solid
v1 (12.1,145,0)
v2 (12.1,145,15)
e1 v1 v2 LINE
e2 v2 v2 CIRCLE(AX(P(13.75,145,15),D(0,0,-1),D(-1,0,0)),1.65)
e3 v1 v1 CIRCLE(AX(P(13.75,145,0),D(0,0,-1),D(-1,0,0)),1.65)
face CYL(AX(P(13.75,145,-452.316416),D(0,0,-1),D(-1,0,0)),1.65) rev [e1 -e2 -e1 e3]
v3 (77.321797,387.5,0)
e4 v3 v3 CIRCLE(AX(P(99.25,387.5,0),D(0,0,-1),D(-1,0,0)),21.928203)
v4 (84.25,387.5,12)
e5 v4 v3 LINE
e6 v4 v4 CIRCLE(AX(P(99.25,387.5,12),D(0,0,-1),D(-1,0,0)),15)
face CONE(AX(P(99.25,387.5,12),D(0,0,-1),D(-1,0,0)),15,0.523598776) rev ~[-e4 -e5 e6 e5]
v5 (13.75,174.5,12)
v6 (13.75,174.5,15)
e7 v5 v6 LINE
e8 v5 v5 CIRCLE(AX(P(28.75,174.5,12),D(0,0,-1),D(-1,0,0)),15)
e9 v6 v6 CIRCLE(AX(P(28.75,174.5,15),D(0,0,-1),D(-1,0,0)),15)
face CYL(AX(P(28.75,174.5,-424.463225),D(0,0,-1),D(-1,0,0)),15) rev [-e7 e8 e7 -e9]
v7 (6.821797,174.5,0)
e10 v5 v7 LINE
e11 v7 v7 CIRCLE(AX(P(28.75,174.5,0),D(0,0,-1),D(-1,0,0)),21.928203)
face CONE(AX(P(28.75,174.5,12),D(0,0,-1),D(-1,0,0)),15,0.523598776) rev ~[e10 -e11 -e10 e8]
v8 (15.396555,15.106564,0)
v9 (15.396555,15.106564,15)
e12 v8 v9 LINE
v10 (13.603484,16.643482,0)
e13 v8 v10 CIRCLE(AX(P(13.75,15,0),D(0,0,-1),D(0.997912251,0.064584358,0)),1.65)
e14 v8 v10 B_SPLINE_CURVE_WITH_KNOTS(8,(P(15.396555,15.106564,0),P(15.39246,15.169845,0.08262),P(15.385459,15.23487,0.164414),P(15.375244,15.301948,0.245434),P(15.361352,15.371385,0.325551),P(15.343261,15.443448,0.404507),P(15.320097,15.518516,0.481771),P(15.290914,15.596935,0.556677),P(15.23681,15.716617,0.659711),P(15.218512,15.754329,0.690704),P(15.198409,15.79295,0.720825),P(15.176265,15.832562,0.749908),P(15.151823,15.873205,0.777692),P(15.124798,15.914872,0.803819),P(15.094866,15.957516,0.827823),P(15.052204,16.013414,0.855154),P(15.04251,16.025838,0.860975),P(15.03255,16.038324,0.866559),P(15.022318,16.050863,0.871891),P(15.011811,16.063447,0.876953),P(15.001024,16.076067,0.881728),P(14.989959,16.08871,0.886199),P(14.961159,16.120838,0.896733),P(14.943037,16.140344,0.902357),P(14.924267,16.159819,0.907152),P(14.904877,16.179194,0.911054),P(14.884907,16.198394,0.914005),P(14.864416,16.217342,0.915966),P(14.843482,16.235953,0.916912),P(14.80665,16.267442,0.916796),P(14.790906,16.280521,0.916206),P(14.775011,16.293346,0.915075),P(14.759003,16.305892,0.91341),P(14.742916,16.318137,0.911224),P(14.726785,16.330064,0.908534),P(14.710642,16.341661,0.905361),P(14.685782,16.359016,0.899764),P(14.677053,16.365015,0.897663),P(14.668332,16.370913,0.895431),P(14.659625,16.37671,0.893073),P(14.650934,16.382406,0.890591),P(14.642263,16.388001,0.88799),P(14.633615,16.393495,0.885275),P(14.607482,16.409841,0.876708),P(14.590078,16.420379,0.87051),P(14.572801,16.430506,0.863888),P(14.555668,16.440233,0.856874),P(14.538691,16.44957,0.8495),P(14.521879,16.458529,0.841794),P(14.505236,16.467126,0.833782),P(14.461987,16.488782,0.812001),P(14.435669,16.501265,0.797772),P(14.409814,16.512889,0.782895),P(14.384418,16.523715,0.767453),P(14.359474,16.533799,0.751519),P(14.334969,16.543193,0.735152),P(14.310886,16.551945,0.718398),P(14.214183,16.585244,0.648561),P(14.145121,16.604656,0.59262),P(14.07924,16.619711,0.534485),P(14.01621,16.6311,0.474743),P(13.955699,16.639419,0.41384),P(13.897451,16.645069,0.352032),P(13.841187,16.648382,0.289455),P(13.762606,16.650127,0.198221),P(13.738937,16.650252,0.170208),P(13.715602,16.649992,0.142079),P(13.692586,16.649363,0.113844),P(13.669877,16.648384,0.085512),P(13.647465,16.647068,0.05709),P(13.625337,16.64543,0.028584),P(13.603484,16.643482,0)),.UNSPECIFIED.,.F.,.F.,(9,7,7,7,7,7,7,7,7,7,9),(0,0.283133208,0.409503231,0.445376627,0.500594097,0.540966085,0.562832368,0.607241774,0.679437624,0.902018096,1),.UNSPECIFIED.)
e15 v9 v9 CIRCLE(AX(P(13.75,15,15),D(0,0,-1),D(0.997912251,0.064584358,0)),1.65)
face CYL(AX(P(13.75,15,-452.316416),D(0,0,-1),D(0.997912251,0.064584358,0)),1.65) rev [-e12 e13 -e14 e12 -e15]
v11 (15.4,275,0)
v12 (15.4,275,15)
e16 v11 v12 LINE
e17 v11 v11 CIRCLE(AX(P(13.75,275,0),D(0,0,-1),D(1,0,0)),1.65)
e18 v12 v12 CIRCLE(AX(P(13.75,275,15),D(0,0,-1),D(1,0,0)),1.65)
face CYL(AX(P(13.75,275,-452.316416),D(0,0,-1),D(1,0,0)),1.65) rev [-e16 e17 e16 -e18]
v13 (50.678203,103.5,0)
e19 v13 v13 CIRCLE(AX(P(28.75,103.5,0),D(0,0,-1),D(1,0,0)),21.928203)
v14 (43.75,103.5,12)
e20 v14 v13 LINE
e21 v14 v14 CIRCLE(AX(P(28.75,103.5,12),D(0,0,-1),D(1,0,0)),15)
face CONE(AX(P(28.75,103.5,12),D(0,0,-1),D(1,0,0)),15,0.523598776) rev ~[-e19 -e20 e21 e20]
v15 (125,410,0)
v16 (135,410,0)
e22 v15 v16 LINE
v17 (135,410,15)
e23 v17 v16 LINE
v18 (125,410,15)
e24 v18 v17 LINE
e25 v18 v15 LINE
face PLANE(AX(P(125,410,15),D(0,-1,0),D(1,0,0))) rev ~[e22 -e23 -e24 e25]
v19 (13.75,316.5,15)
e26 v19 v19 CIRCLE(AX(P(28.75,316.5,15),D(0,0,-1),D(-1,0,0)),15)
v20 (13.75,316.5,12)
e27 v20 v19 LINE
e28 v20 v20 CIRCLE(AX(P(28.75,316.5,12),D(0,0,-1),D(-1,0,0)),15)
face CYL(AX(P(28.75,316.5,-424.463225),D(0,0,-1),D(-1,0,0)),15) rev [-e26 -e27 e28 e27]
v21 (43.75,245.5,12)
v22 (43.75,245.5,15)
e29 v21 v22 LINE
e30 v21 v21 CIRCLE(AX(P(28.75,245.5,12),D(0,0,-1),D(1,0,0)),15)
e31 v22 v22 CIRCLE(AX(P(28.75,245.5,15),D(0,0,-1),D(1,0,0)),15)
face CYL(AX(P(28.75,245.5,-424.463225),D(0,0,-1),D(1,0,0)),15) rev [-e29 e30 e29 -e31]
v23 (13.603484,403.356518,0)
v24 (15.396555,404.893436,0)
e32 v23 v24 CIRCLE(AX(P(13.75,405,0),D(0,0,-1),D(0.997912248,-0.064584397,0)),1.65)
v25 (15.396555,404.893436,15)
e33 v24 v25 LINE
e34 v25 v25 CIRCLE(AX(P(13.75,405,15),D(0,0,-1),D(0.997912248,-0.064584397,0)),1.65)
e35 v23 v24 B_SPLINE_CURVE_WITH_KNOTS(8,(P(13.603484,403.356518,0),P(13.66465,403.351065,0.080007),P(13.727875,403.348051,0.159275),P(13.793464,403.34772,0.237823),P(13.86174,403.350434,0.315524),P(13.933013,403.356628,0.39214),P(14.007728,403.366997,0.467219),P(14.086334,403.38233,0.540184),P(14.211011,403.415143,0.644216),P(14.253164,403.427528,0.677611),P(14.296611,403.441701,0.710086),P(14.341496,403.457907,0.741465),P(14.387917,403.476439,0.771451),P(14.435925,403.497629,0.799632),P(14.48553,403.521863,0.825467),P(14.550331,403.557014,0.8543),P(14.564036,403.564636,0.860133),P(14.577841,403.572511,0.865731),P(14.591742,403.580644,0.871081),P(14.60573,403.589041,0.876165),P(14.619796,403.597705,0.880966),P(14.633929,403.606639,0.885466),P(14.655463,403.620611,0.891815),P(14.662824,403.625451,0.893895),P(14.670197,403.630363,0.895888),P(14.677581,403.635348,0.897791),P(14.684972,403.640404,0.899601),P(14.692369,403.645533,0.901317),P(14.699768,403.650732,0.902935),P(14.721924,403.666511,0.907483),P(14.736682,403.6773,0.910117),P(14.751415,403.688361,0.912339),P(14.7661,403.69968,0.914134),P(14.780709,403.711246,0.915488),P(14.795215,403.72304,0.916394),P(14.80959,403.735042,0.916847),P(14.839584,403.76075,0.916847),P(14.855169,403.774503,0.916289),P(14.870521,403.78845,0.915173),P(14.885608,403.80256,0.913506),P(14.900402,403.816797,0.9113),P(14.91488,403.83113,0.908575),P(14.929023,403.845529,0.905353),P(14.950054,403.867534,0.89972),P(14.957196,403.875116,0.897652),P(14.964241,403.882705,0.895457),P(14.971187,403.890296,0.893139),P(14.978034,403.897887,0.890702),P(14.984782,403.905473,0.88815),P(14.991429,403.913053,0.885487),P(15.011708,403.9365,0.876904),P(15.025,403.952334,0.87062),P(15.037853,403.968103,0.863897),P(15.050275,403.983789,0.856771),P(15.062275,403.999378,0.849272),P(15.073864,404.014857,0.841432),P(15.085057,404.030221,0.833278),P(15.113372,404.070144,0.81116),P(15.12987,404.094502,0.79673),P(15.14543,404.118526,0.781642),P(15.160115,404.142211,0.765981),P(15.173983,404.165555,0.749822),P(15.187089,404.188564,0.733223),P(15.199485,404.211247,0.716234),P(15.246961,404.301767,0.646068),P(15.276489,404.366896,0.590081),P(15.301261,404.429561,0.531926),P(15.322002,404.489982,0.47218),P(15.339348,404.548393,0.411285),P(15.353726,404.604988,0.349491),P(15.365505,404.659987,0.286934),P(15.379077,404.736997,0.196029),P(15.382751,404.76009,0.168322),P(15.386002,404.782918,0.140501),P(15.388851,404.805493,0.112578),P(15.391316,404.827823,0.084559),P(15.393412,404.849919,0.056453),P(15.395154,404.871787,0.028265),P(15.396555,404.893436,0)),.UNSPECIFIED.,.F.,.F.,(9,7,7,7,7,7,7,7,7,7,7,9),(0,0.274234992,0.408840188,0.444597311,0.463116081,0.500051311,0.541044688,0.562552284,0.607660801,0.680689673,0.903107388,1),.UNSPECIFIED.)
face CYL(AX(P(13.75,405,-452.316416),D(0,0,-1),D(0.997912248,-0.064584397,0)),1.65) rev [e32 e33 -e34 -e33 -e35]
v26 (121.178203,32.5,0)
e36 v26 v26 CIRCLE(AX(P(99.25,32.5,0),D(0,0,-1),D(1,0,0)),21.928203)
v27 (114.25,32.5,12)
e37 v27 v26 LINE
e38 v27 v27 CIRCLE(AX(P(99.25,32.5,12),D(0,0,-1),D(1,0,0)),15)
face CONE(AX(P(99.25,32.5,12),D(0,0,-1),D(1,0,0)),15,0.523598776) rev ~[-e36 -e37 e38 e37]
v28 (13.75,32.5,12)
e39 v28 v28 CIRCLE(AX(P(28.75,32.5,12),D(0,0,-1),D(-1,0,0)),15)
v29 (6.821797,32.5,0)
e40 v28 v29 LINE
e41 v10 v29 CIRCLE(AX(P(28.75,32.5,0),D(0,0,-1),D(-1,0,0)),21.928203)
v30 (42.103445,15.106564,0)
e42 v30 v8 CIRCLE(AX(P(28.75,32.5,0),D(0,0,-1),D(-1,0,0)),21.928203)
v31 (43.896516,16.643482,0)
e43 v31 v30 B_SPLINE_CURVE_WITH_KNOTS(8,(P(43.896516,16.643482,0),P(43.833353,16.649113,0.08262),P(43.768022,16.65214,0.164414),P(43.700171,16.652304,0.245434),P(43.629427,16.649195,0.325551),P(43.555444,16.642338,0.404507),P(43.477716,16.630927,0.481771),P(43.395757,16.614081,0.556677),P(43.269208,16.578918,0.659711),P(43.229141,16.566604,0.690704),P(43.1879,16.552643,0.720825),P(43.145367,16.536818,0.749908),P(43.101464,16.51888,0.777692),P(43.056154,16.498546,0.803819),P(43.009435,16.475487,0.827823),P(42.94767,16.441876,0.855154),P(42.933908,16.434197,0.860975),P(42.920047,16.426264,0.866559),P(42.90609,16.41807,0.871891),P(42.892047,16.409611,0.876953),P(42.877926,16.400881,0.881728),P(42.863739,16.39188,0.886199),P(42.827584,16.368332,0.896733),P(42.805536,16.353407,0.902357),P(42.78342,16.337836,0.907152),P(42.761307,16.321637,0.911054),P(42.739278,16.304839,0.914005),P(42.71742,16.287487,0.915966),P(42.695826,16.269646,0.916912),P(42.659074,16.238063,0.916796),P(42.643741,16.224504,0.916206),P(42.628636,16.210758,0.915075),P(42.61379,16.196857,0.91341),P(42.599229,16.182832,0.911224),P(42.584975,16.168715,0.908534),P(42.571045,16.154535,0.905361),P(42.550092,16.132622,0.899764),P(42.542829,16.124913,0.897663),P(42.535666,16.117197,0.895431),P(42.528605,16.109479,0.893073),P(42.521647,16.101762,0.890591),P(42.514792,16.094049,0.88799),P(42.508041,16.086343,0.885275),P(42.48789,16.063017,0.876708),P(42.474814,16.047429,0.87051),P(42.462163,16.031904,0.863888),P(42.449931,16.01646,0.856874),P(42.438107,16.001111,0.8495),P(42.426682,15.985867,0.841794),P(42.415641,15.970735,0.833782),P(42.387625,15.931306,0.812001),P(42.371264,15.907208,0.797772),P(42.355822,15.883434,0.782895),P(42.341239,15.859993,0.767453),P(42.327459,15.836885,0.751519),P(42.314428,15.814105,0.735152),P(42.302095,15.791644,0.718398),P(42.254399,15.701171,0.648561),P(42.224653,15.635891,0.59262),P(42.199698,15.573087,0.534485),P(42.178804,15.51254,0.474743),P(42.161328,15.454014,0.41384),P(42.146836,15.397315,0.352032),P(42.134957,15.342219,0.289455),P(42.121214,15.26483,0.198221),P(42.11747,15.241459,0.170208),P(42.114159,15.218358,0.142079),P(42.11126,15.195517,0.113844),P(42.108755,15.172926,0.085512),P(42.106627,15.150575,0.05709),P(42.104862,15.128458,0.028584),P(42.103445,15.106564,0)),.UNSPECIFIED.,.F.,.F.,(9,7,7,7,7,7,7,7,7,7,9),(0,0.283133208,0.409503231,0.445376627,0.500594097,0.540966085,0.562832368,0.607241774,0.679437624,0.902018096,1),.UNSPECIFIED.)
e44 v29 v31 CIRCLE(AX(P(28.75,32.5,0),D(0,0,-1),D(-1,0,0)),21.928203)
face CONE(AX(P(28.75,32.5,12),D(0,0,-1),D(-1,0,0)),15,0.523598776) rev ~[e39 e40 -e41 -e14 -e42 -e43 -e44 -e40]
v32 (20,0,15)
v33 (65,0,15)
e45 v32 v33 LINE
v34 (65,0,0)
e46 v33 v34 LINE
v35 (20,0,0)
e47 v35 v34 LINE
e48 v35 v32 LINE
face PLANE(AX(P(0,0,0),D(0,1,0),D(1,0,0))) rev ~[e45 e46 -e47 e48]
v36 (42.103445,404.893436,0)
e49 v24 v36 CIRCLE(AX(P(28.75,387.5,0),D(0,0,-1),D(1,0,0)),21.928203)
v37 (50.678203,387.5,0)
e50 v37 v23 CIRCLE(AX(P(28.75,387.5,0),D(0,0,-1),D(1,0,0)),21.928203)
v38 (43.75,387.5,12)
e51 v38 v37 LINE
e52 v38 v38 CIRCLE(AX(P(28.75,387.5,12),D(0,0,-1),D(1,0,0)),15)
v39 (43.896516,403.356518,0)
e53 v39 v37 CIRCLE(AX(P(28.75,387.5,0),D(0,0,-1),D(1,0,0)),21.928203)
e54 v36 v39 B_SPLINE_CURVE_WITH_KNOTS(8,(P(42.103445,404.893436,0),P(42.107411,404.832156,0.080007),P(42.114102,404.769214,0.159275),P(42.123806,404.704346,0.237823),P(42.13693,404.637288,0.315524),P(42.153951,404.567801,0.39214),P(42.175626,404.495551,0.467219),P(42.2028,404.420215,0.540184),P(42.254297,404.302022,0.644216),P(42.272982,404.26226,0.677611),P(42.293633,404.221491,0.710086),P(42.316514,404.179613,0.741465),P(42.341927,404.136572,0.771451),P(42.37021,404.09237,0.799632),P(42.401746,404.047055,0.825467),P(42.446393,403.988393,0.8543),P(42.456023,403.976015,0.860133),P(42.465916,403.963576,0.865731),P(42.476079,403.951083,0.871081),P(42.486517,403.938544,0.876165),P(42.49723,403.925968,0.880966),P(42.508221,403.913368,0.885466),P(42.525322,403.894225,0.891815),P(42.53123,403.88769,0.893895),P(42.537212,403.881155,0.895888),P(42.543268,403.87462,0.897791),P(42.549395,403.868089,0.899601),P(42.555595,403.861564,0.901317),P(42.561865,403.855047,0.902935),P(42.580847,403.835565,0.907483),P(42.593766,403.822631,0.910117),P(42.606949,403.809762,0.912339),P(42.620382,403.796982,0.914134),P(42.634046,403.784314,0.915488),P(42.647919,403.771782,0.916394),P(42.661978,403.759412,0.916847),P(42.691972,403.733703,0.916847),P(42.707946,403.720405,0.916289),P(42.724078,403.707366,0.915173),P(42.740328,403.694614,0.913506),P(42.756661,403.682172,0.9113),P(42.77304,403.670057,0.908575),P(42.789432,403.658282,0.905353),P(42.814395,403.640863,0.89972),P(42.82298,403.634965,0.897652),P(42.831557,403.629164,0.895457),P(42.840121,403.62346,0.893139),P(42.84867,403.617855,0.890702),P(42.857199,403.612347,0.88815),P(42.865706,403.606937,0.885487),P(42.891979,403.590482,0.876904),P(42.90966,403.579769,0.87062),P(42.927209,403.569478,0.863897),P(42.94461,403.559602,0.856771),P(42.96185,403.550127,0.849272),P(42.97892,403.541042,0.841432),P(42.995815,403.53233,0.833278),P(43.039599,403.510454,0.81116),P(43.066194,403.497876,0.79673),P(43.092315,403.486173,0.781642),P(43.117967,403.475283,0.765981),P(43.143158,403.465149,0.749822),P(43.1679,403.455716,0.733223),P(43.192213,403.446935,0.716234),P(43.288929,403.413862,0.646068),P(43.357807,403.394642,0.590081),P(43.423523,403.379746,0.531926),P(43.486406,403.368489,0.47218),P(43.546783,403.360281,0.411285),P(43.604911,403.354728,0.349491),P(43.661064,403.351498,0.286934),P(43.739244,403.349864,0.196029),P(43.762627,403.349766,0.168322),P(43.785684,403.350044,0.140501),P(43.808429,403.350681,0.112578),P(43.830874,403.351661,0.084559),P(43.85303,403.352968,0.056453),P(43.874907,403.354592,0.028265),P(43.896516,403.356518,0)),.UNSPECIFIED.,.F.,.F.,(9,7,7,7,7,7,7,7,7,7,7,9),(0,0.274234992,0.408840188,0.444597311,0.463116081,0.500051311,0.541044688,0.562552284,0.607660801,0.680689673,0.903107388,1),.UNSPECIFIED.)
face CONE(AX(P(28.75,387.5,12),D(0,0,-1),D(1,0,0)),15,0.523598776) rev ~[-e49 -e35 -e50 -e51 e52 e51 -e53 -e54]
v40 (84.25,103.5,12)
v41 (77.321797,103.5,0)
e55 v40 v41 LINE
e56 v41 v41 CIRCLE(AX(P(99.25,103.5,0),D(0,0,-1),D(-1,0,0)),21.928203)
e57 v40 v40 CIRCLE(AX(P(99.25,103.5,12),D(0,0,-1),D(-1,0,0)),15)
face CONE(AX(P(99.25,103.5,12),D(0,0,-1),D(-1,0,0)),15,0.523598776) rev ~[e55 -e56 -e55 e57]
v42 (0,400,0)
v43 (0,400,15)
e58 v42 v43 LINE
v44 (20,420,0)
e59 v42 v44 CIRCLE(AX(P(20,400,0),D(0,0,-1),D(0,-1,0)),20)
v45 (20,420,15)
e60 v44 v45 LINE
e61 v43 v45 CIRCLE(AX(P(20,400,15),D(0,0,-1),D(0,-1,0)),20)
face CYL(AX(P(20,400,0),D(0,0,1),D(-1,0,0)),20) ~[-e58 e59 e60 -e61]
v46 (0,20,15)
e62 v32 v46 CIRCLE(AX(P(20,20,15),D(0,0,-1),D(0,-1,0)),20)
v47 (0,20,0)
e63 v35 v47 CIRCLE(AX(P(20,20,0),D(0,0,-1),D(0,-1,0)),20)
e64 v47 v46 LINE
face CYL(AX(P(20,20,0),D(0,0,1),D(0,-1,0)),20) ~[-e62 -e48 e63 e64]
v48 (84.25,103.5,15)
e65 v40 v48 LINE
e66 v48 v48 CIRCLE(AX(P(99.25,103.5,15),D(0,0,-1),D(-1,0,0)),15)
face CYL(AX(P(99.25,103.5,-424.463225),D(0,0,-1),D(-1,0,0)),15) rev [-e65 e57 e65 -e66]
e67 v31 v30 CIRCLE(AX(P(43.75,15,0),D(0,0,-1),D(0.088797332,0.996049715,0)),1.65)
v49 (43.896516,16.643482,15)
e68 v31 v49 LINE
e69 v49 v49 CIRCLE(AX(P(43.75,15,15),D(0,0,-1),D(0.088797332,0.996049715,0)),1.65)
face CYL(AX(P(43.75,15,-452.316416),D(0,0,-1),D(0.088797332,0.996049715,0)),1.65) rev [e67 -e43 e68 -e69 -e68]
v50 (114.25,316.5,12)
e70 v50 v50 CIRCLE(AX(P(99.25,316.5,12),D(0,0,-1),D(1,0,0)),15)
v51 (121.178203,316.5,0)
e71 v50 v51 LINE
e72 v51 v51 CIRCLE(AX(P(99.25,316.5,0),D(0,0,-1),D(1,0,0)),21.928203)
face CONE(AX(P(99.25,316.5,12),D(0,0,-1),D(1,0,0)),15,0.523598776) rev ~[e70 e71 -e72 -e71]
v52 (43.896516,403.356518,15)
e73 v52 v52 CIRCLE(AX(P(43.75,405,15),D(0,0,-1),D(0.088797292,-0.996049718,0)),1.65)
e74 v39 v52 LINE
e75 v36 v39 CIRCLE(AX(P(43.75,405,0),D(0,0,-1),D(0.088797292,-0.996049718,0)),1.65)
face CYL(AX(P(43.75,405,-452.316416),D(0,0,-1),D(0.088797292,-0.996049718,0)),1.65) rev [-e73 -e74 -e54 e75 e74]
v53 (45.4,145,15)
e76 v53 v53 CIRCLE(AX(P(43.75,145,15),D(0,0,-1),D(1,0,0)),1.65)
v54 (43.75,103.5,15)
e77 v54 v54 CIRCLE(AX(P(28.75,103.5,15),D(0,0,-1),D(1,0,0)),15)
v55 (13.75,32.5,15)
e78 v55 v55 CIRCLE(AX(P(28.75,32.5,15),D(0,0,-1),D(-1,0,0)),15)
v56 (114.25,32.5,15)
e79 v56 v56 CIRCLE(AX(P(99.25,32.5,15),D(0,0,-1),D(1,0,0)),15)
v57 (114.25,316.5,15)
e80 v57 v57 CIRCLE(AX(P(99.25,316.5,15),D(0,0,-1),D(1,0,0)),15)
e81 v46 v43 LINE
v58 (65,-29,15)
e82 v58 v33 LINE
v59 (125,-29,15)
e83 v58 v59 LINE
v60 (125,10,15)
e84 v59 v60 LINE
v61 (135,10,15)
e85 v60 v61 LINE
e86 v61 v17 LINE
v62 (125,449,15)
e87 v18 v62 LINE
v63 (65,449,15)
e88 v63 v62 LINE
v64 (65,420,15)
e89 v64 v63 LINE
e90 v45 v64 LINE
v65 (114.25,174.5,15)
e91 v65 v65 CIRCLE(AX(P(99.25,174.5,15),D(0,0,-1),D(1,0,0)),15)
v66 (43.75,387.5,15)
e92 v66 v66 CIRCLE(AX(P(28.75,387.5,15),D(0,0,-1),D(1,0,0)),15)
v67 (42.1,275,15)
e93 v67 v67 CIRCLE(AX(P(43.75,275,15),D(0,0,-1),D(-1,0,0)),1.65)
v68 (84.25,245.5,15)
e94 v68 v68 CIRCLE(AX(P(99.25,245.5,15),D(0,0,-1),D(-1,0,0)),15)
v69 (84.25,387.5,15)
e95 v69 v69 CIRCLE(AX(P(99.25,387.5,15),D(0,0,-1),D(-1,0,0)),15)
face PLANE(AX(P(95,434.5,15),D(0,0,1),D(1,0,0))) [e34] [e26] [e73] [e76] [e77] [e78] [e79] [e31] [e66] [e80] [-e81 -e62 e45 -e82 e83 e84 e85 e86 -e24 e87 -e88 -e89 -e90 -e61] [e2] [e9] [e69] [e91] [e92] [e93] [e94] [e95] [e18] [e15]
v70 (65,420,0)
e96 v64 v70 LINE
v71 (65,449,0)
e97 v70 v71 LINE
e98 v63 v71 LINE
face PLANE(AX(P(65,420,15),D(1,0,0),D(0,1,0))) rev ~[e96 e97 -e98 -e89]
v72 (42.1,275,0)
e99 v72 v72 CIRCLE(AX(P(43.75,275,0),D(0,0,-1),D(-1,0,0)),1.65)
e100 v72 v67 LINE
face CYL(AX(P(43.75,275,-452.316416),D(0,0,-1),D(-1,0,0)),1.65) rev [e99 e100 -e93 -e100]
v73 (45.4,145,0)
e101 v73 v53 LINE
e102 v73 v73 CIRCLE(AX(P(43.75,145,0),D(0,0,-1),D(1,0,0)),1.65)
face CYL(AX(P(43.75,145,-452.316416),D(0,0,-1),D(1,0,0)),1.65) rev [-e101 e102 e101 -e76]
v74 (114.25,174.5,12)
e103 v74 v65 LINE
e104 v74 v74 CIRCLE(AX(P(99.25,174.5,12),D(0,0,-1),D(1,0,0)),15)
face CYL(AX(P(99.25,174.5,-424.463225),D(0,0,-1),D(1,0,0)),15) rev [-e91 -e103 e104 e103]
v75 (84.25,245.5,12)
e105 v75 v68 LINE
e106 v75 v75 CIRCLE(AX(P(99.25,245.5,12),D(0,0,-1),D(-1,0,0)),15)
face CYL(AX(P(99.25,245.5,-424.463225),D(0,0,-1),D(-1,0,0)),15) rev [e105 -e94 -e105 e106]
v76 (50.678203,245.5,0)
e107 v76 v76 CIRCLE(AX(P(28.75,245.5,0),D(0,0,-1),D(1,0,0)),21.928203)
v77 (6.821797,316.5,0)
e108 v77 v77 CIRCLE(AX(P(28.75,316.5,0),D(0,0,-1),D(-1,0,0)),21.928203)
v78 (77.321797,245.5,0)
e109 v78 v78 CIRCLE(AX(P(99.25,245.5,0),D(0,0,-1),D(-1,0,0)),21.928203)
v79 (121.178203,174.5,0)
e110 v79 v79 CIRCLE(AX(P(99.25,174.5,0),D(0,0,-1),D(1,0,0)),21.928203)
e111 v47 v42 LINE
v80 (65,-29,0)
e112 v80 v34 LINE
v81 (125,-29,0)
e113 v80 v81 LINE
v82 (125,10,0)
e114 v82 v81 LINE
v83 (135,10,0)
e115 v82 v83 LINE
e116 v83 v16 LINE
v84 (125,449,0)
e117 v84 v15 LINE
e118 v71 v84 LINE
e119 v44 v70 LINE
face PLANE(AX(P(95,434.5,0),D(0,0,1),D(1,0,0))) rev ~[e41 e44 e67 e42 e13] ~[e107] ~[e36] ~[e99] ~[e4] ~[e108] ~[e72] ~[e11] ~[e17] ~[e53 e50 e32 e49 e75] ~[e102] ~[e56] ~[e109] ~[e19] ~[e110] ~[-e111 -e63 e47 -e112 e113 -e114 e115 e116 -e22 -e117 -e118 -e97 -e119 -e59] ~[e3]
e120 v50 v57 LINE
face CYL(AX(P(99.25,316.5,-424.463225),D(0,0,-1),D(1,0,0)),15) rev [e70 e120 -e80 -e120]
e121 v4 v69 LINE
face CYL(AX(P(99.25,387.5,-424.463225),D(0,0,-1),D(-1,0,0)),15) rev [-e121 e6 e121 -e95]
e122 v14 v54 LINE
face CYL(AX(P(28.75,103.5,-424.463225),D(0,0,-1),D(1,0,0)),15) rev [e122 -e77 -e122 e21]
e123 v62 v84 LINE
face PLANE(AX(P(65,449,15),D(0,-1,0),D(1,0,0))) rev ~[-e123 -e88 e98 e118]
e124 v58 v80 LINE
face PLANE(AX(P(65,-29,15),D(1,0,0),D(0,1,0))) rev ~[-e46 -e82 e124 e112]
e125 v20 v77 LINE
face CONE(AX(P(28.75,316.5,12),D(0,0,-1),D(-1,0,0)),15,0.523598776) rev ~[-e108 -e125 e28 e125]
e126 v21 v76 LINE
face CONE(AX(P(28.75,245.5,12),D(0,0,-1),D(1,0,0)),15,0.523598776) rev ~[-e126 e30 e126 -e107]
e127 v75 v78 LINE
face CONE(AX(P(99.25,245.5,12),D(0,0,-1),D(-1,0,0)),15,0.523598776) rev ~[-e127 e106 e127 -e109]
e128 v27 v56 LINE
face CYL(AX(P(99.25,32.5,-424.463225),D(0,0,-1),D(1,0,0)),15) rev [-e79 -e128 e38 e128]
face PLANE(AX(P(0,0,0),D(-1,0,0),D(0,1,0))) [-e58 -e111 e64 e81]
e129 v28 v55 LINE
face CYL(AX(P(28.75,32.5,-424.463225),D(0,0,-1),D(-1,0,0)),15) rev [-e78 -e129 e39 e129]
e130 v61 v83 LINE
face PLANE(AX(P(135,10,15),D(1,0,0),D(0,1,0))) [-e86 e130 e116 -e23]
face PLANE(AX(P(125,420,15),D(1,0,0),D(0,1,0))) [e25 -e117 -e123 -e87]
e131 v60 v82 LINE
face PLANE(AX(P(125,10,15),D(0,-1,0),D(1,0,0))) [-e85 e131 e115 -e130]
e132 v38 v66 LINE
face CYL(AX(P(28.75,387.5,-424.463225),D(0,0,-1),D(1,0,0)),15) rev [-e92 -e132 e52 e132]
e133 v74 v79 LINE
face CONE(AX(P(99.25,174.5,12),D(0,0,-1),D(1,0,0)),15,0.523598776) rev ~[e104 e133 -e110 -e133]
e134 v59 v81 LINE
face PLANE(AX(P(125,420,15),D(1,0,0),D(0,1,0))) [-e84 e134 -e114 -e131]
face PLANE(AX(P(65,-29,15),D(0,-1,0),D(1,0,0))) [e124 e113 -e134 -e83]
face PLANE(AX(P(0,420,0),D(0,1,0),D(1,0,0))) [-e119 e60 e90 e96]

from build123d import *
from OCP.BRepFilletAPI import BRepFilletAPI_MakeChamfer

# Parameters (mm, degrees)
ESQUISSE1_W                  = 125
ESQUISSE1_H                  = 420
BOSS_EXTRU_1_DEPTH           = 15
ENL_V_MAT_EXTRU_1_DEPTH      = 439.463225368
ENL_V_MAT_EXTRU_1_DEPTH_BACK = 439.463225368
ESQUISSE2_R                  = 15
CHANFREIN1_SIZE              = 12
CHANFREIN1_SIZE2             = 6.92820323
ESQUISSE3_W                  = 60
ESQUISSE3_H                  = 29
BOSS_EXTRU_2_DEPTH           = 15
CONG_1_R                     = 20
ENL_V_MAT_EXTRU_2_DEPTH      = 467.316416181
ENL_V_MAT_EXTRU_2_DEPTH_BACK = 467.316416181
ESQUISSE4_R                  = 1.65
ESQUISSE5_W                  = 10
ESQUISSE5_H                  = 400
BOSS_EXTRU_3_DEPTH           = 15


with BuildPart() as part:
    # Esquisse1 → Boss.-Extru.1 (new body)
    with BuildSketch(Plane.XY):
        with Locations((62.5, 210)):
            Rectangle(ESQUISSE1_W, ESQUISSE1_H)
    extrude(amount=BOSS_EXTRU_1_DEPTH)

    # Esquisse2 → Enlèv. mat.-Extru.1 (cut, two sides: drawn at the far end of the back side and taken through both)
    with BuildSketch(Plane.XY.offset(15).offset(-ENL_V_MAT_EXTRU_1_DEPTH_BACK)):
        with Locations((28.75, 245.5)):
            Circle(ESQUISSE2_R)
        with Locations(Location((99.25, 245.5, 0), (0, 0, 180))):
            Circle(ESQUISSE2_R)
        with Locations((99.25, 174.5)):
            Circle(ESQUISSE2_R)
        with Locations(Location((28.75, 174.5, 0), (0, 0, 180))):
            Circle(ESQUISSE2_R)
        with Locations((28.75, 103.5)):
            Circle(ESQUISSE2_R)
        with Locations(Location((99.25, 103.5, 0), (0, 0, 180))):
            Circle(ESQUISSE2_R)
        with Locations((99.25, 32.5)):
            Circle(ESQUISSE2_R)
        with Locations(Location((28.75, 32.5, 0), (0, 0, 180))):
            Circle(ESQUISSE2_R)
        with Locations((28.75, 387.5)):
            Circle(ESQUISSE2_R)
        with Locations(Location((99.25, 387.5, 0), (0, 0, 180))):
            Circle(ESQUISSE2_R)
        with Locations((99.25, 316.5)):
            Circle(ESQUISSE2_R)
        with Locations(Location((28.75, 316.5, 0), (0, 0, 180))):
            Circle(ESQUISSE2_R)
    extrude(amount=ENL_V_MAT_EXTRU_1_DEPTH + ENL_V_MAT_EXTRU_1_DEPTH_BACK, mode=Mode.SUBTRACT)

    # Chanfrein1: one chamfer whose edges measure the first distance from different faces: ONE call of the kernel's chamfer builder (chamfer() names one face for all edges)
    chanfrein1_edges_1 = [part.edges().sort_by_distance(p)[0] for p in [
        (13.75, 245.5, 0),
    ]]
    chanfrein1_side_1 = [part.faces().sort_by_distance(p)[0] for p in [
        (13.75, 245.5, 7.5),
    ]]
    chanfrein1_edges_2 = [part.edges().sort_by_distance(p)[0] for p in [
        (84.25, 32.5, 0),
    ]]
    chanfrein1_side_2 = [part.faces().sort_by_distance(p)[0] for p in [
        (84.25, 32.5, 7.5),
    ]]
    chanfrein1_edges_3 = [part.edges().sort_by_distance(p)[0] for p in [
        (43.75, 32.5, 0),
    ]]
    chanfrein1_side_3 = [part.faces().sort_by_distance(p)[0] for p in [
        (43.75, 32.5, 7.5),
    ]]
    chanfrein1_edges_4 = [part.edges().sort_by_distance(p)[0] for p in [
        (13.75, 387.5, 0),
    ]]
    chanfrein1_side_4 = [part.faces().sort_by_distance(p)[0] for p in [
        (13.75, 387.5, 7.5),
    ]]
    chanfrein1_edges_5 = [part.edges().sort_by_distance(p)[0] for p in [
        (114.25, 387.5, 0),
    ]]
    chanfrein1_side_5 = [part.faces().sort_by_distance(p)[0] for p in [
        (114.25, 387.5, 7.5),
    ]]
    chanfrein1_edges_6 = [part.edges().sort_by_distance(p)[0] for p in [
        (84.25, 316.5, 0),
    ]]
    chanfrein1_side_6 = [part.faces().sort_by_distance(p)[0] for p in [
        (84.25, 316.5, 7.5),
    ]]
    chanfrein1_edges_7 = [part.edges().sort_by_distance(p)[0] for p in [
        (43.75, 316.5, 0),
    ]]
    chanfrein1_side_7 = [part.faces().sort_by_distance(p)[0] for p in [
        (43.75, 316.5, 7.5),
    ]]
    chanfrein1_edges_8 = [part.edges().sort_by_distance(p)[0] for p in [
        (114.25, 245.5, 0),
    ]]
    chanfrein1_side_8 = [part.faces().sort_by_distance(p)[0] for p in [
        (114.25, 245.5, 7.5),
    ]]
    chanfrein1_edges_9 = [part.edges().sort_by_distance(p)[0] for p in [
        (84.25, 174.5, 0),
    ]]
    chanfrein1_side_9 = [part.faces().sort_by_distance(p)[0] for p in [
        (84.25, 174.5, 7.5),
    ]]
    chanfrein1_edges_10 = [part.edges().sort_by_distance(p)[0] for p in [
        (43.75, 174.5, 0),
    ]]
    chanfrein1_side_10 = [part.faces().sort_by_distance(p)[0] for p in [
        (43.75, 174.5, 7.5),
    ]]
    chanfrein1_edges_11 = [part.edges().sort_by_distance(p)[0] for p in [
        (13.75, 103.5, 0),
    ]]
    chanfrein1_side_11 = [part.faces().sort_by_distance(p)[0] for p in [
        (13.75, 103.5, 7.5),
    ]]
    chanfrein1_edges_12 = [part.edges().sort_by_distance(p)[0] for p in [
        (114.25, 103.5, 0),
    ]]
    chanfrein1_side_12 = [part.faces().sort_by_distance(p)[0] for p in [
        (114.25, 103.5, 7.5),
    ]]
    chanfrein1 = BRepFilletAPI_MakeChamfer(part.part.solid().wrapped)
    for e in chanfrein1_edges_1:
        chanfrein1.Add(CHANFREIN1_SIZE, CHANFREIN1_SIZE2, e.wrapped, chanfrein1_side_1[0].wrapped)  # the first distance lies on this face
    for e in chanfrein1_edges_2:
        chanfrein1.Add(CHANFREIN1_SIZE, CHANFREIN1_SIZE2, e.wrapped, chanfrein1_side_2[0].wrapped)  # the first distance lies on this face
    for e in chanfrein1_edges_3:
        chanfrein1.Add(CHANFREIN1_SIZE, CHANFREIN1_SIZE2, e.wrapped, chanfrein1_side_3[0].wrapped)  # the first distance lies on this face
    for e in chanfrein1_edges_4:
        chanfrein1.Add(CHANFREIN1_SIZE, CHANFREIN1_SIZE2, e.wrapped, chanfrein1_side_4[0].wrapped)  # the first distance lies on this face
    for e in chanfrein1_edges_5:
        chanfrein1.Add(CHANFREIN1_SIZE, CHANFREIN1_SIZE2, e.wrapped, chanfrein1_side_5[0].wrapped)  # the first distance lies on this face
    for e in chanfrein1_edges_6:
        chanfrein1.Add(CHANFREIN1_SIZE, CHANFREIN1_SIZE2, e.wrapped, chanfrein1_side_6[0].wrapped)  # the first distance lies on this face
    for e in chanfrein1_edges_7:
        chanfrein1.Add(CHANFREIN1_SIZE, CHANFREIN1_SIZE2, e.wrapped, chanfrein1_side_7[0].wrapped)  # the first distance lies on this face
    for e in chanfrein1_edges_8:
        chanfrein1.Add(CHANFREIN1_SIZE, CHANFREIN1_SIZE2, e.wrapped, chanfrein1_side_8[0].wrapped)  # the first distance lies on this face
    for e in chanfrein1_edges_9:
        chanfrein1.Add(CHANFREIN1_SIZE, CHANFREIN1_SIZE2, e.wrapped, chanfrein1_side_9[0].wrapped)  # the first distance lies on this face
    for e in chanfrein1_edges_10:
        chanfrein1.Add(CHANFREIN1_SIZE, CHANFREIN1_SIZE2, e.wrapped, chanfrein1_side_10[0].wrapped)  # the first distance lies on this face
    for e in chanfrein1_edges_11:
        chanfrein1.Add(CHANFREIN1_SIZE, CHANFREIN1_SIZE2, e.wrapped, chanfrein1_side_11[0].wrapped)  # the first distance lies on this face
    for e in chanfrein1_edges_12:
        chanfrein1.Add(CHANFREIN1_SIZE, CHANFREIN1_SIZE2, e.wrapped, chanfrein1_side_12[0].wrapped)  # the first distance lies on this face
    add(Compound.cast(chanfrein1.Shape()), mode=Mode.REPLACE)

    # Esquisse3 → Boss.-Extru.2 (add)
    with BuildSketch(Plane.XY.offset(15)):
        with Locations((95, 434.5)):
            Rectangle(ESQUISSE3_W, ESQUISSE3_H)
        with Locations((95, -14.5)):
            Rectangle(ESQUISSE3_W, ESQUISSE3_H)
    extrude(amount=-BOSS_EXTRU_2_DEPTH)

    # Congé1
    cong_1_edges = [part.edges().sort_by_distance(p)[0] for p in [
        (0, 420, 7.5),
        (0, 0, 7.5),
    ]]
    fillet(cong_1_edges, radius=CONG_1_R)

    # Esquisse4 → Enlèv. mat.-Extru.2 (cut, two sides: drawn at the far end of the back side and taken through both)
    with BuildSketch(Plane.XY.offset(15).offset(-ENL_V_MAT_EXTRU_2_DEPTH_BACK)):
        with Locations(Location((13.75, 405, 0), (0, 0, 356.297009275))):
            Circle(ESQUISSE4_R)
        with Locations((13.75, 275)):
            Circle(ESQUISSE4_R)
        with Locations(Location((43.75, 275, 0), (0, 0, 180))):
            Circle(ESQUISSE4_R)
        with Locations(Location((43.75, 405, 0), (0, 0, 275.094419985))):
            Circle(ESQUISSE4_R)
        with Locations(Location((43.75, 15, 0), (0, 0, 84.905577747))):
            Circle(ESQUISSE4_R)
        with Locations((43.75, 145)):
            Circle(ESQUISSE4_R)
        with Locations(Location((13.75, 145, 0), (0, 0, 180))):
            Circle(ESQUISSE4_R)
        with Locations(Location((13.75, 15, 0), (0, 0, 3.702988457))):
            Circle(ESQUISSE4_R)
    extrude(amount=ENL_V_MAT_EXTRU_2_DEPTH + ENL_V_MAT_EXTRU_2_DEPTH_BACK, mode=Mode.SUBTRACT)

    # Esquisse5 → Boss.-Extru.3 (add)
    with BuildSketch(Plane.XY.offset(15)):
        with Locations((130, 210)):
            Rectangle(ESQUISSE5_W, ESQUISSE5_H)
    extrude(amount=-BOSS_EXTRU_3_DEPTH)


solid = part.part
